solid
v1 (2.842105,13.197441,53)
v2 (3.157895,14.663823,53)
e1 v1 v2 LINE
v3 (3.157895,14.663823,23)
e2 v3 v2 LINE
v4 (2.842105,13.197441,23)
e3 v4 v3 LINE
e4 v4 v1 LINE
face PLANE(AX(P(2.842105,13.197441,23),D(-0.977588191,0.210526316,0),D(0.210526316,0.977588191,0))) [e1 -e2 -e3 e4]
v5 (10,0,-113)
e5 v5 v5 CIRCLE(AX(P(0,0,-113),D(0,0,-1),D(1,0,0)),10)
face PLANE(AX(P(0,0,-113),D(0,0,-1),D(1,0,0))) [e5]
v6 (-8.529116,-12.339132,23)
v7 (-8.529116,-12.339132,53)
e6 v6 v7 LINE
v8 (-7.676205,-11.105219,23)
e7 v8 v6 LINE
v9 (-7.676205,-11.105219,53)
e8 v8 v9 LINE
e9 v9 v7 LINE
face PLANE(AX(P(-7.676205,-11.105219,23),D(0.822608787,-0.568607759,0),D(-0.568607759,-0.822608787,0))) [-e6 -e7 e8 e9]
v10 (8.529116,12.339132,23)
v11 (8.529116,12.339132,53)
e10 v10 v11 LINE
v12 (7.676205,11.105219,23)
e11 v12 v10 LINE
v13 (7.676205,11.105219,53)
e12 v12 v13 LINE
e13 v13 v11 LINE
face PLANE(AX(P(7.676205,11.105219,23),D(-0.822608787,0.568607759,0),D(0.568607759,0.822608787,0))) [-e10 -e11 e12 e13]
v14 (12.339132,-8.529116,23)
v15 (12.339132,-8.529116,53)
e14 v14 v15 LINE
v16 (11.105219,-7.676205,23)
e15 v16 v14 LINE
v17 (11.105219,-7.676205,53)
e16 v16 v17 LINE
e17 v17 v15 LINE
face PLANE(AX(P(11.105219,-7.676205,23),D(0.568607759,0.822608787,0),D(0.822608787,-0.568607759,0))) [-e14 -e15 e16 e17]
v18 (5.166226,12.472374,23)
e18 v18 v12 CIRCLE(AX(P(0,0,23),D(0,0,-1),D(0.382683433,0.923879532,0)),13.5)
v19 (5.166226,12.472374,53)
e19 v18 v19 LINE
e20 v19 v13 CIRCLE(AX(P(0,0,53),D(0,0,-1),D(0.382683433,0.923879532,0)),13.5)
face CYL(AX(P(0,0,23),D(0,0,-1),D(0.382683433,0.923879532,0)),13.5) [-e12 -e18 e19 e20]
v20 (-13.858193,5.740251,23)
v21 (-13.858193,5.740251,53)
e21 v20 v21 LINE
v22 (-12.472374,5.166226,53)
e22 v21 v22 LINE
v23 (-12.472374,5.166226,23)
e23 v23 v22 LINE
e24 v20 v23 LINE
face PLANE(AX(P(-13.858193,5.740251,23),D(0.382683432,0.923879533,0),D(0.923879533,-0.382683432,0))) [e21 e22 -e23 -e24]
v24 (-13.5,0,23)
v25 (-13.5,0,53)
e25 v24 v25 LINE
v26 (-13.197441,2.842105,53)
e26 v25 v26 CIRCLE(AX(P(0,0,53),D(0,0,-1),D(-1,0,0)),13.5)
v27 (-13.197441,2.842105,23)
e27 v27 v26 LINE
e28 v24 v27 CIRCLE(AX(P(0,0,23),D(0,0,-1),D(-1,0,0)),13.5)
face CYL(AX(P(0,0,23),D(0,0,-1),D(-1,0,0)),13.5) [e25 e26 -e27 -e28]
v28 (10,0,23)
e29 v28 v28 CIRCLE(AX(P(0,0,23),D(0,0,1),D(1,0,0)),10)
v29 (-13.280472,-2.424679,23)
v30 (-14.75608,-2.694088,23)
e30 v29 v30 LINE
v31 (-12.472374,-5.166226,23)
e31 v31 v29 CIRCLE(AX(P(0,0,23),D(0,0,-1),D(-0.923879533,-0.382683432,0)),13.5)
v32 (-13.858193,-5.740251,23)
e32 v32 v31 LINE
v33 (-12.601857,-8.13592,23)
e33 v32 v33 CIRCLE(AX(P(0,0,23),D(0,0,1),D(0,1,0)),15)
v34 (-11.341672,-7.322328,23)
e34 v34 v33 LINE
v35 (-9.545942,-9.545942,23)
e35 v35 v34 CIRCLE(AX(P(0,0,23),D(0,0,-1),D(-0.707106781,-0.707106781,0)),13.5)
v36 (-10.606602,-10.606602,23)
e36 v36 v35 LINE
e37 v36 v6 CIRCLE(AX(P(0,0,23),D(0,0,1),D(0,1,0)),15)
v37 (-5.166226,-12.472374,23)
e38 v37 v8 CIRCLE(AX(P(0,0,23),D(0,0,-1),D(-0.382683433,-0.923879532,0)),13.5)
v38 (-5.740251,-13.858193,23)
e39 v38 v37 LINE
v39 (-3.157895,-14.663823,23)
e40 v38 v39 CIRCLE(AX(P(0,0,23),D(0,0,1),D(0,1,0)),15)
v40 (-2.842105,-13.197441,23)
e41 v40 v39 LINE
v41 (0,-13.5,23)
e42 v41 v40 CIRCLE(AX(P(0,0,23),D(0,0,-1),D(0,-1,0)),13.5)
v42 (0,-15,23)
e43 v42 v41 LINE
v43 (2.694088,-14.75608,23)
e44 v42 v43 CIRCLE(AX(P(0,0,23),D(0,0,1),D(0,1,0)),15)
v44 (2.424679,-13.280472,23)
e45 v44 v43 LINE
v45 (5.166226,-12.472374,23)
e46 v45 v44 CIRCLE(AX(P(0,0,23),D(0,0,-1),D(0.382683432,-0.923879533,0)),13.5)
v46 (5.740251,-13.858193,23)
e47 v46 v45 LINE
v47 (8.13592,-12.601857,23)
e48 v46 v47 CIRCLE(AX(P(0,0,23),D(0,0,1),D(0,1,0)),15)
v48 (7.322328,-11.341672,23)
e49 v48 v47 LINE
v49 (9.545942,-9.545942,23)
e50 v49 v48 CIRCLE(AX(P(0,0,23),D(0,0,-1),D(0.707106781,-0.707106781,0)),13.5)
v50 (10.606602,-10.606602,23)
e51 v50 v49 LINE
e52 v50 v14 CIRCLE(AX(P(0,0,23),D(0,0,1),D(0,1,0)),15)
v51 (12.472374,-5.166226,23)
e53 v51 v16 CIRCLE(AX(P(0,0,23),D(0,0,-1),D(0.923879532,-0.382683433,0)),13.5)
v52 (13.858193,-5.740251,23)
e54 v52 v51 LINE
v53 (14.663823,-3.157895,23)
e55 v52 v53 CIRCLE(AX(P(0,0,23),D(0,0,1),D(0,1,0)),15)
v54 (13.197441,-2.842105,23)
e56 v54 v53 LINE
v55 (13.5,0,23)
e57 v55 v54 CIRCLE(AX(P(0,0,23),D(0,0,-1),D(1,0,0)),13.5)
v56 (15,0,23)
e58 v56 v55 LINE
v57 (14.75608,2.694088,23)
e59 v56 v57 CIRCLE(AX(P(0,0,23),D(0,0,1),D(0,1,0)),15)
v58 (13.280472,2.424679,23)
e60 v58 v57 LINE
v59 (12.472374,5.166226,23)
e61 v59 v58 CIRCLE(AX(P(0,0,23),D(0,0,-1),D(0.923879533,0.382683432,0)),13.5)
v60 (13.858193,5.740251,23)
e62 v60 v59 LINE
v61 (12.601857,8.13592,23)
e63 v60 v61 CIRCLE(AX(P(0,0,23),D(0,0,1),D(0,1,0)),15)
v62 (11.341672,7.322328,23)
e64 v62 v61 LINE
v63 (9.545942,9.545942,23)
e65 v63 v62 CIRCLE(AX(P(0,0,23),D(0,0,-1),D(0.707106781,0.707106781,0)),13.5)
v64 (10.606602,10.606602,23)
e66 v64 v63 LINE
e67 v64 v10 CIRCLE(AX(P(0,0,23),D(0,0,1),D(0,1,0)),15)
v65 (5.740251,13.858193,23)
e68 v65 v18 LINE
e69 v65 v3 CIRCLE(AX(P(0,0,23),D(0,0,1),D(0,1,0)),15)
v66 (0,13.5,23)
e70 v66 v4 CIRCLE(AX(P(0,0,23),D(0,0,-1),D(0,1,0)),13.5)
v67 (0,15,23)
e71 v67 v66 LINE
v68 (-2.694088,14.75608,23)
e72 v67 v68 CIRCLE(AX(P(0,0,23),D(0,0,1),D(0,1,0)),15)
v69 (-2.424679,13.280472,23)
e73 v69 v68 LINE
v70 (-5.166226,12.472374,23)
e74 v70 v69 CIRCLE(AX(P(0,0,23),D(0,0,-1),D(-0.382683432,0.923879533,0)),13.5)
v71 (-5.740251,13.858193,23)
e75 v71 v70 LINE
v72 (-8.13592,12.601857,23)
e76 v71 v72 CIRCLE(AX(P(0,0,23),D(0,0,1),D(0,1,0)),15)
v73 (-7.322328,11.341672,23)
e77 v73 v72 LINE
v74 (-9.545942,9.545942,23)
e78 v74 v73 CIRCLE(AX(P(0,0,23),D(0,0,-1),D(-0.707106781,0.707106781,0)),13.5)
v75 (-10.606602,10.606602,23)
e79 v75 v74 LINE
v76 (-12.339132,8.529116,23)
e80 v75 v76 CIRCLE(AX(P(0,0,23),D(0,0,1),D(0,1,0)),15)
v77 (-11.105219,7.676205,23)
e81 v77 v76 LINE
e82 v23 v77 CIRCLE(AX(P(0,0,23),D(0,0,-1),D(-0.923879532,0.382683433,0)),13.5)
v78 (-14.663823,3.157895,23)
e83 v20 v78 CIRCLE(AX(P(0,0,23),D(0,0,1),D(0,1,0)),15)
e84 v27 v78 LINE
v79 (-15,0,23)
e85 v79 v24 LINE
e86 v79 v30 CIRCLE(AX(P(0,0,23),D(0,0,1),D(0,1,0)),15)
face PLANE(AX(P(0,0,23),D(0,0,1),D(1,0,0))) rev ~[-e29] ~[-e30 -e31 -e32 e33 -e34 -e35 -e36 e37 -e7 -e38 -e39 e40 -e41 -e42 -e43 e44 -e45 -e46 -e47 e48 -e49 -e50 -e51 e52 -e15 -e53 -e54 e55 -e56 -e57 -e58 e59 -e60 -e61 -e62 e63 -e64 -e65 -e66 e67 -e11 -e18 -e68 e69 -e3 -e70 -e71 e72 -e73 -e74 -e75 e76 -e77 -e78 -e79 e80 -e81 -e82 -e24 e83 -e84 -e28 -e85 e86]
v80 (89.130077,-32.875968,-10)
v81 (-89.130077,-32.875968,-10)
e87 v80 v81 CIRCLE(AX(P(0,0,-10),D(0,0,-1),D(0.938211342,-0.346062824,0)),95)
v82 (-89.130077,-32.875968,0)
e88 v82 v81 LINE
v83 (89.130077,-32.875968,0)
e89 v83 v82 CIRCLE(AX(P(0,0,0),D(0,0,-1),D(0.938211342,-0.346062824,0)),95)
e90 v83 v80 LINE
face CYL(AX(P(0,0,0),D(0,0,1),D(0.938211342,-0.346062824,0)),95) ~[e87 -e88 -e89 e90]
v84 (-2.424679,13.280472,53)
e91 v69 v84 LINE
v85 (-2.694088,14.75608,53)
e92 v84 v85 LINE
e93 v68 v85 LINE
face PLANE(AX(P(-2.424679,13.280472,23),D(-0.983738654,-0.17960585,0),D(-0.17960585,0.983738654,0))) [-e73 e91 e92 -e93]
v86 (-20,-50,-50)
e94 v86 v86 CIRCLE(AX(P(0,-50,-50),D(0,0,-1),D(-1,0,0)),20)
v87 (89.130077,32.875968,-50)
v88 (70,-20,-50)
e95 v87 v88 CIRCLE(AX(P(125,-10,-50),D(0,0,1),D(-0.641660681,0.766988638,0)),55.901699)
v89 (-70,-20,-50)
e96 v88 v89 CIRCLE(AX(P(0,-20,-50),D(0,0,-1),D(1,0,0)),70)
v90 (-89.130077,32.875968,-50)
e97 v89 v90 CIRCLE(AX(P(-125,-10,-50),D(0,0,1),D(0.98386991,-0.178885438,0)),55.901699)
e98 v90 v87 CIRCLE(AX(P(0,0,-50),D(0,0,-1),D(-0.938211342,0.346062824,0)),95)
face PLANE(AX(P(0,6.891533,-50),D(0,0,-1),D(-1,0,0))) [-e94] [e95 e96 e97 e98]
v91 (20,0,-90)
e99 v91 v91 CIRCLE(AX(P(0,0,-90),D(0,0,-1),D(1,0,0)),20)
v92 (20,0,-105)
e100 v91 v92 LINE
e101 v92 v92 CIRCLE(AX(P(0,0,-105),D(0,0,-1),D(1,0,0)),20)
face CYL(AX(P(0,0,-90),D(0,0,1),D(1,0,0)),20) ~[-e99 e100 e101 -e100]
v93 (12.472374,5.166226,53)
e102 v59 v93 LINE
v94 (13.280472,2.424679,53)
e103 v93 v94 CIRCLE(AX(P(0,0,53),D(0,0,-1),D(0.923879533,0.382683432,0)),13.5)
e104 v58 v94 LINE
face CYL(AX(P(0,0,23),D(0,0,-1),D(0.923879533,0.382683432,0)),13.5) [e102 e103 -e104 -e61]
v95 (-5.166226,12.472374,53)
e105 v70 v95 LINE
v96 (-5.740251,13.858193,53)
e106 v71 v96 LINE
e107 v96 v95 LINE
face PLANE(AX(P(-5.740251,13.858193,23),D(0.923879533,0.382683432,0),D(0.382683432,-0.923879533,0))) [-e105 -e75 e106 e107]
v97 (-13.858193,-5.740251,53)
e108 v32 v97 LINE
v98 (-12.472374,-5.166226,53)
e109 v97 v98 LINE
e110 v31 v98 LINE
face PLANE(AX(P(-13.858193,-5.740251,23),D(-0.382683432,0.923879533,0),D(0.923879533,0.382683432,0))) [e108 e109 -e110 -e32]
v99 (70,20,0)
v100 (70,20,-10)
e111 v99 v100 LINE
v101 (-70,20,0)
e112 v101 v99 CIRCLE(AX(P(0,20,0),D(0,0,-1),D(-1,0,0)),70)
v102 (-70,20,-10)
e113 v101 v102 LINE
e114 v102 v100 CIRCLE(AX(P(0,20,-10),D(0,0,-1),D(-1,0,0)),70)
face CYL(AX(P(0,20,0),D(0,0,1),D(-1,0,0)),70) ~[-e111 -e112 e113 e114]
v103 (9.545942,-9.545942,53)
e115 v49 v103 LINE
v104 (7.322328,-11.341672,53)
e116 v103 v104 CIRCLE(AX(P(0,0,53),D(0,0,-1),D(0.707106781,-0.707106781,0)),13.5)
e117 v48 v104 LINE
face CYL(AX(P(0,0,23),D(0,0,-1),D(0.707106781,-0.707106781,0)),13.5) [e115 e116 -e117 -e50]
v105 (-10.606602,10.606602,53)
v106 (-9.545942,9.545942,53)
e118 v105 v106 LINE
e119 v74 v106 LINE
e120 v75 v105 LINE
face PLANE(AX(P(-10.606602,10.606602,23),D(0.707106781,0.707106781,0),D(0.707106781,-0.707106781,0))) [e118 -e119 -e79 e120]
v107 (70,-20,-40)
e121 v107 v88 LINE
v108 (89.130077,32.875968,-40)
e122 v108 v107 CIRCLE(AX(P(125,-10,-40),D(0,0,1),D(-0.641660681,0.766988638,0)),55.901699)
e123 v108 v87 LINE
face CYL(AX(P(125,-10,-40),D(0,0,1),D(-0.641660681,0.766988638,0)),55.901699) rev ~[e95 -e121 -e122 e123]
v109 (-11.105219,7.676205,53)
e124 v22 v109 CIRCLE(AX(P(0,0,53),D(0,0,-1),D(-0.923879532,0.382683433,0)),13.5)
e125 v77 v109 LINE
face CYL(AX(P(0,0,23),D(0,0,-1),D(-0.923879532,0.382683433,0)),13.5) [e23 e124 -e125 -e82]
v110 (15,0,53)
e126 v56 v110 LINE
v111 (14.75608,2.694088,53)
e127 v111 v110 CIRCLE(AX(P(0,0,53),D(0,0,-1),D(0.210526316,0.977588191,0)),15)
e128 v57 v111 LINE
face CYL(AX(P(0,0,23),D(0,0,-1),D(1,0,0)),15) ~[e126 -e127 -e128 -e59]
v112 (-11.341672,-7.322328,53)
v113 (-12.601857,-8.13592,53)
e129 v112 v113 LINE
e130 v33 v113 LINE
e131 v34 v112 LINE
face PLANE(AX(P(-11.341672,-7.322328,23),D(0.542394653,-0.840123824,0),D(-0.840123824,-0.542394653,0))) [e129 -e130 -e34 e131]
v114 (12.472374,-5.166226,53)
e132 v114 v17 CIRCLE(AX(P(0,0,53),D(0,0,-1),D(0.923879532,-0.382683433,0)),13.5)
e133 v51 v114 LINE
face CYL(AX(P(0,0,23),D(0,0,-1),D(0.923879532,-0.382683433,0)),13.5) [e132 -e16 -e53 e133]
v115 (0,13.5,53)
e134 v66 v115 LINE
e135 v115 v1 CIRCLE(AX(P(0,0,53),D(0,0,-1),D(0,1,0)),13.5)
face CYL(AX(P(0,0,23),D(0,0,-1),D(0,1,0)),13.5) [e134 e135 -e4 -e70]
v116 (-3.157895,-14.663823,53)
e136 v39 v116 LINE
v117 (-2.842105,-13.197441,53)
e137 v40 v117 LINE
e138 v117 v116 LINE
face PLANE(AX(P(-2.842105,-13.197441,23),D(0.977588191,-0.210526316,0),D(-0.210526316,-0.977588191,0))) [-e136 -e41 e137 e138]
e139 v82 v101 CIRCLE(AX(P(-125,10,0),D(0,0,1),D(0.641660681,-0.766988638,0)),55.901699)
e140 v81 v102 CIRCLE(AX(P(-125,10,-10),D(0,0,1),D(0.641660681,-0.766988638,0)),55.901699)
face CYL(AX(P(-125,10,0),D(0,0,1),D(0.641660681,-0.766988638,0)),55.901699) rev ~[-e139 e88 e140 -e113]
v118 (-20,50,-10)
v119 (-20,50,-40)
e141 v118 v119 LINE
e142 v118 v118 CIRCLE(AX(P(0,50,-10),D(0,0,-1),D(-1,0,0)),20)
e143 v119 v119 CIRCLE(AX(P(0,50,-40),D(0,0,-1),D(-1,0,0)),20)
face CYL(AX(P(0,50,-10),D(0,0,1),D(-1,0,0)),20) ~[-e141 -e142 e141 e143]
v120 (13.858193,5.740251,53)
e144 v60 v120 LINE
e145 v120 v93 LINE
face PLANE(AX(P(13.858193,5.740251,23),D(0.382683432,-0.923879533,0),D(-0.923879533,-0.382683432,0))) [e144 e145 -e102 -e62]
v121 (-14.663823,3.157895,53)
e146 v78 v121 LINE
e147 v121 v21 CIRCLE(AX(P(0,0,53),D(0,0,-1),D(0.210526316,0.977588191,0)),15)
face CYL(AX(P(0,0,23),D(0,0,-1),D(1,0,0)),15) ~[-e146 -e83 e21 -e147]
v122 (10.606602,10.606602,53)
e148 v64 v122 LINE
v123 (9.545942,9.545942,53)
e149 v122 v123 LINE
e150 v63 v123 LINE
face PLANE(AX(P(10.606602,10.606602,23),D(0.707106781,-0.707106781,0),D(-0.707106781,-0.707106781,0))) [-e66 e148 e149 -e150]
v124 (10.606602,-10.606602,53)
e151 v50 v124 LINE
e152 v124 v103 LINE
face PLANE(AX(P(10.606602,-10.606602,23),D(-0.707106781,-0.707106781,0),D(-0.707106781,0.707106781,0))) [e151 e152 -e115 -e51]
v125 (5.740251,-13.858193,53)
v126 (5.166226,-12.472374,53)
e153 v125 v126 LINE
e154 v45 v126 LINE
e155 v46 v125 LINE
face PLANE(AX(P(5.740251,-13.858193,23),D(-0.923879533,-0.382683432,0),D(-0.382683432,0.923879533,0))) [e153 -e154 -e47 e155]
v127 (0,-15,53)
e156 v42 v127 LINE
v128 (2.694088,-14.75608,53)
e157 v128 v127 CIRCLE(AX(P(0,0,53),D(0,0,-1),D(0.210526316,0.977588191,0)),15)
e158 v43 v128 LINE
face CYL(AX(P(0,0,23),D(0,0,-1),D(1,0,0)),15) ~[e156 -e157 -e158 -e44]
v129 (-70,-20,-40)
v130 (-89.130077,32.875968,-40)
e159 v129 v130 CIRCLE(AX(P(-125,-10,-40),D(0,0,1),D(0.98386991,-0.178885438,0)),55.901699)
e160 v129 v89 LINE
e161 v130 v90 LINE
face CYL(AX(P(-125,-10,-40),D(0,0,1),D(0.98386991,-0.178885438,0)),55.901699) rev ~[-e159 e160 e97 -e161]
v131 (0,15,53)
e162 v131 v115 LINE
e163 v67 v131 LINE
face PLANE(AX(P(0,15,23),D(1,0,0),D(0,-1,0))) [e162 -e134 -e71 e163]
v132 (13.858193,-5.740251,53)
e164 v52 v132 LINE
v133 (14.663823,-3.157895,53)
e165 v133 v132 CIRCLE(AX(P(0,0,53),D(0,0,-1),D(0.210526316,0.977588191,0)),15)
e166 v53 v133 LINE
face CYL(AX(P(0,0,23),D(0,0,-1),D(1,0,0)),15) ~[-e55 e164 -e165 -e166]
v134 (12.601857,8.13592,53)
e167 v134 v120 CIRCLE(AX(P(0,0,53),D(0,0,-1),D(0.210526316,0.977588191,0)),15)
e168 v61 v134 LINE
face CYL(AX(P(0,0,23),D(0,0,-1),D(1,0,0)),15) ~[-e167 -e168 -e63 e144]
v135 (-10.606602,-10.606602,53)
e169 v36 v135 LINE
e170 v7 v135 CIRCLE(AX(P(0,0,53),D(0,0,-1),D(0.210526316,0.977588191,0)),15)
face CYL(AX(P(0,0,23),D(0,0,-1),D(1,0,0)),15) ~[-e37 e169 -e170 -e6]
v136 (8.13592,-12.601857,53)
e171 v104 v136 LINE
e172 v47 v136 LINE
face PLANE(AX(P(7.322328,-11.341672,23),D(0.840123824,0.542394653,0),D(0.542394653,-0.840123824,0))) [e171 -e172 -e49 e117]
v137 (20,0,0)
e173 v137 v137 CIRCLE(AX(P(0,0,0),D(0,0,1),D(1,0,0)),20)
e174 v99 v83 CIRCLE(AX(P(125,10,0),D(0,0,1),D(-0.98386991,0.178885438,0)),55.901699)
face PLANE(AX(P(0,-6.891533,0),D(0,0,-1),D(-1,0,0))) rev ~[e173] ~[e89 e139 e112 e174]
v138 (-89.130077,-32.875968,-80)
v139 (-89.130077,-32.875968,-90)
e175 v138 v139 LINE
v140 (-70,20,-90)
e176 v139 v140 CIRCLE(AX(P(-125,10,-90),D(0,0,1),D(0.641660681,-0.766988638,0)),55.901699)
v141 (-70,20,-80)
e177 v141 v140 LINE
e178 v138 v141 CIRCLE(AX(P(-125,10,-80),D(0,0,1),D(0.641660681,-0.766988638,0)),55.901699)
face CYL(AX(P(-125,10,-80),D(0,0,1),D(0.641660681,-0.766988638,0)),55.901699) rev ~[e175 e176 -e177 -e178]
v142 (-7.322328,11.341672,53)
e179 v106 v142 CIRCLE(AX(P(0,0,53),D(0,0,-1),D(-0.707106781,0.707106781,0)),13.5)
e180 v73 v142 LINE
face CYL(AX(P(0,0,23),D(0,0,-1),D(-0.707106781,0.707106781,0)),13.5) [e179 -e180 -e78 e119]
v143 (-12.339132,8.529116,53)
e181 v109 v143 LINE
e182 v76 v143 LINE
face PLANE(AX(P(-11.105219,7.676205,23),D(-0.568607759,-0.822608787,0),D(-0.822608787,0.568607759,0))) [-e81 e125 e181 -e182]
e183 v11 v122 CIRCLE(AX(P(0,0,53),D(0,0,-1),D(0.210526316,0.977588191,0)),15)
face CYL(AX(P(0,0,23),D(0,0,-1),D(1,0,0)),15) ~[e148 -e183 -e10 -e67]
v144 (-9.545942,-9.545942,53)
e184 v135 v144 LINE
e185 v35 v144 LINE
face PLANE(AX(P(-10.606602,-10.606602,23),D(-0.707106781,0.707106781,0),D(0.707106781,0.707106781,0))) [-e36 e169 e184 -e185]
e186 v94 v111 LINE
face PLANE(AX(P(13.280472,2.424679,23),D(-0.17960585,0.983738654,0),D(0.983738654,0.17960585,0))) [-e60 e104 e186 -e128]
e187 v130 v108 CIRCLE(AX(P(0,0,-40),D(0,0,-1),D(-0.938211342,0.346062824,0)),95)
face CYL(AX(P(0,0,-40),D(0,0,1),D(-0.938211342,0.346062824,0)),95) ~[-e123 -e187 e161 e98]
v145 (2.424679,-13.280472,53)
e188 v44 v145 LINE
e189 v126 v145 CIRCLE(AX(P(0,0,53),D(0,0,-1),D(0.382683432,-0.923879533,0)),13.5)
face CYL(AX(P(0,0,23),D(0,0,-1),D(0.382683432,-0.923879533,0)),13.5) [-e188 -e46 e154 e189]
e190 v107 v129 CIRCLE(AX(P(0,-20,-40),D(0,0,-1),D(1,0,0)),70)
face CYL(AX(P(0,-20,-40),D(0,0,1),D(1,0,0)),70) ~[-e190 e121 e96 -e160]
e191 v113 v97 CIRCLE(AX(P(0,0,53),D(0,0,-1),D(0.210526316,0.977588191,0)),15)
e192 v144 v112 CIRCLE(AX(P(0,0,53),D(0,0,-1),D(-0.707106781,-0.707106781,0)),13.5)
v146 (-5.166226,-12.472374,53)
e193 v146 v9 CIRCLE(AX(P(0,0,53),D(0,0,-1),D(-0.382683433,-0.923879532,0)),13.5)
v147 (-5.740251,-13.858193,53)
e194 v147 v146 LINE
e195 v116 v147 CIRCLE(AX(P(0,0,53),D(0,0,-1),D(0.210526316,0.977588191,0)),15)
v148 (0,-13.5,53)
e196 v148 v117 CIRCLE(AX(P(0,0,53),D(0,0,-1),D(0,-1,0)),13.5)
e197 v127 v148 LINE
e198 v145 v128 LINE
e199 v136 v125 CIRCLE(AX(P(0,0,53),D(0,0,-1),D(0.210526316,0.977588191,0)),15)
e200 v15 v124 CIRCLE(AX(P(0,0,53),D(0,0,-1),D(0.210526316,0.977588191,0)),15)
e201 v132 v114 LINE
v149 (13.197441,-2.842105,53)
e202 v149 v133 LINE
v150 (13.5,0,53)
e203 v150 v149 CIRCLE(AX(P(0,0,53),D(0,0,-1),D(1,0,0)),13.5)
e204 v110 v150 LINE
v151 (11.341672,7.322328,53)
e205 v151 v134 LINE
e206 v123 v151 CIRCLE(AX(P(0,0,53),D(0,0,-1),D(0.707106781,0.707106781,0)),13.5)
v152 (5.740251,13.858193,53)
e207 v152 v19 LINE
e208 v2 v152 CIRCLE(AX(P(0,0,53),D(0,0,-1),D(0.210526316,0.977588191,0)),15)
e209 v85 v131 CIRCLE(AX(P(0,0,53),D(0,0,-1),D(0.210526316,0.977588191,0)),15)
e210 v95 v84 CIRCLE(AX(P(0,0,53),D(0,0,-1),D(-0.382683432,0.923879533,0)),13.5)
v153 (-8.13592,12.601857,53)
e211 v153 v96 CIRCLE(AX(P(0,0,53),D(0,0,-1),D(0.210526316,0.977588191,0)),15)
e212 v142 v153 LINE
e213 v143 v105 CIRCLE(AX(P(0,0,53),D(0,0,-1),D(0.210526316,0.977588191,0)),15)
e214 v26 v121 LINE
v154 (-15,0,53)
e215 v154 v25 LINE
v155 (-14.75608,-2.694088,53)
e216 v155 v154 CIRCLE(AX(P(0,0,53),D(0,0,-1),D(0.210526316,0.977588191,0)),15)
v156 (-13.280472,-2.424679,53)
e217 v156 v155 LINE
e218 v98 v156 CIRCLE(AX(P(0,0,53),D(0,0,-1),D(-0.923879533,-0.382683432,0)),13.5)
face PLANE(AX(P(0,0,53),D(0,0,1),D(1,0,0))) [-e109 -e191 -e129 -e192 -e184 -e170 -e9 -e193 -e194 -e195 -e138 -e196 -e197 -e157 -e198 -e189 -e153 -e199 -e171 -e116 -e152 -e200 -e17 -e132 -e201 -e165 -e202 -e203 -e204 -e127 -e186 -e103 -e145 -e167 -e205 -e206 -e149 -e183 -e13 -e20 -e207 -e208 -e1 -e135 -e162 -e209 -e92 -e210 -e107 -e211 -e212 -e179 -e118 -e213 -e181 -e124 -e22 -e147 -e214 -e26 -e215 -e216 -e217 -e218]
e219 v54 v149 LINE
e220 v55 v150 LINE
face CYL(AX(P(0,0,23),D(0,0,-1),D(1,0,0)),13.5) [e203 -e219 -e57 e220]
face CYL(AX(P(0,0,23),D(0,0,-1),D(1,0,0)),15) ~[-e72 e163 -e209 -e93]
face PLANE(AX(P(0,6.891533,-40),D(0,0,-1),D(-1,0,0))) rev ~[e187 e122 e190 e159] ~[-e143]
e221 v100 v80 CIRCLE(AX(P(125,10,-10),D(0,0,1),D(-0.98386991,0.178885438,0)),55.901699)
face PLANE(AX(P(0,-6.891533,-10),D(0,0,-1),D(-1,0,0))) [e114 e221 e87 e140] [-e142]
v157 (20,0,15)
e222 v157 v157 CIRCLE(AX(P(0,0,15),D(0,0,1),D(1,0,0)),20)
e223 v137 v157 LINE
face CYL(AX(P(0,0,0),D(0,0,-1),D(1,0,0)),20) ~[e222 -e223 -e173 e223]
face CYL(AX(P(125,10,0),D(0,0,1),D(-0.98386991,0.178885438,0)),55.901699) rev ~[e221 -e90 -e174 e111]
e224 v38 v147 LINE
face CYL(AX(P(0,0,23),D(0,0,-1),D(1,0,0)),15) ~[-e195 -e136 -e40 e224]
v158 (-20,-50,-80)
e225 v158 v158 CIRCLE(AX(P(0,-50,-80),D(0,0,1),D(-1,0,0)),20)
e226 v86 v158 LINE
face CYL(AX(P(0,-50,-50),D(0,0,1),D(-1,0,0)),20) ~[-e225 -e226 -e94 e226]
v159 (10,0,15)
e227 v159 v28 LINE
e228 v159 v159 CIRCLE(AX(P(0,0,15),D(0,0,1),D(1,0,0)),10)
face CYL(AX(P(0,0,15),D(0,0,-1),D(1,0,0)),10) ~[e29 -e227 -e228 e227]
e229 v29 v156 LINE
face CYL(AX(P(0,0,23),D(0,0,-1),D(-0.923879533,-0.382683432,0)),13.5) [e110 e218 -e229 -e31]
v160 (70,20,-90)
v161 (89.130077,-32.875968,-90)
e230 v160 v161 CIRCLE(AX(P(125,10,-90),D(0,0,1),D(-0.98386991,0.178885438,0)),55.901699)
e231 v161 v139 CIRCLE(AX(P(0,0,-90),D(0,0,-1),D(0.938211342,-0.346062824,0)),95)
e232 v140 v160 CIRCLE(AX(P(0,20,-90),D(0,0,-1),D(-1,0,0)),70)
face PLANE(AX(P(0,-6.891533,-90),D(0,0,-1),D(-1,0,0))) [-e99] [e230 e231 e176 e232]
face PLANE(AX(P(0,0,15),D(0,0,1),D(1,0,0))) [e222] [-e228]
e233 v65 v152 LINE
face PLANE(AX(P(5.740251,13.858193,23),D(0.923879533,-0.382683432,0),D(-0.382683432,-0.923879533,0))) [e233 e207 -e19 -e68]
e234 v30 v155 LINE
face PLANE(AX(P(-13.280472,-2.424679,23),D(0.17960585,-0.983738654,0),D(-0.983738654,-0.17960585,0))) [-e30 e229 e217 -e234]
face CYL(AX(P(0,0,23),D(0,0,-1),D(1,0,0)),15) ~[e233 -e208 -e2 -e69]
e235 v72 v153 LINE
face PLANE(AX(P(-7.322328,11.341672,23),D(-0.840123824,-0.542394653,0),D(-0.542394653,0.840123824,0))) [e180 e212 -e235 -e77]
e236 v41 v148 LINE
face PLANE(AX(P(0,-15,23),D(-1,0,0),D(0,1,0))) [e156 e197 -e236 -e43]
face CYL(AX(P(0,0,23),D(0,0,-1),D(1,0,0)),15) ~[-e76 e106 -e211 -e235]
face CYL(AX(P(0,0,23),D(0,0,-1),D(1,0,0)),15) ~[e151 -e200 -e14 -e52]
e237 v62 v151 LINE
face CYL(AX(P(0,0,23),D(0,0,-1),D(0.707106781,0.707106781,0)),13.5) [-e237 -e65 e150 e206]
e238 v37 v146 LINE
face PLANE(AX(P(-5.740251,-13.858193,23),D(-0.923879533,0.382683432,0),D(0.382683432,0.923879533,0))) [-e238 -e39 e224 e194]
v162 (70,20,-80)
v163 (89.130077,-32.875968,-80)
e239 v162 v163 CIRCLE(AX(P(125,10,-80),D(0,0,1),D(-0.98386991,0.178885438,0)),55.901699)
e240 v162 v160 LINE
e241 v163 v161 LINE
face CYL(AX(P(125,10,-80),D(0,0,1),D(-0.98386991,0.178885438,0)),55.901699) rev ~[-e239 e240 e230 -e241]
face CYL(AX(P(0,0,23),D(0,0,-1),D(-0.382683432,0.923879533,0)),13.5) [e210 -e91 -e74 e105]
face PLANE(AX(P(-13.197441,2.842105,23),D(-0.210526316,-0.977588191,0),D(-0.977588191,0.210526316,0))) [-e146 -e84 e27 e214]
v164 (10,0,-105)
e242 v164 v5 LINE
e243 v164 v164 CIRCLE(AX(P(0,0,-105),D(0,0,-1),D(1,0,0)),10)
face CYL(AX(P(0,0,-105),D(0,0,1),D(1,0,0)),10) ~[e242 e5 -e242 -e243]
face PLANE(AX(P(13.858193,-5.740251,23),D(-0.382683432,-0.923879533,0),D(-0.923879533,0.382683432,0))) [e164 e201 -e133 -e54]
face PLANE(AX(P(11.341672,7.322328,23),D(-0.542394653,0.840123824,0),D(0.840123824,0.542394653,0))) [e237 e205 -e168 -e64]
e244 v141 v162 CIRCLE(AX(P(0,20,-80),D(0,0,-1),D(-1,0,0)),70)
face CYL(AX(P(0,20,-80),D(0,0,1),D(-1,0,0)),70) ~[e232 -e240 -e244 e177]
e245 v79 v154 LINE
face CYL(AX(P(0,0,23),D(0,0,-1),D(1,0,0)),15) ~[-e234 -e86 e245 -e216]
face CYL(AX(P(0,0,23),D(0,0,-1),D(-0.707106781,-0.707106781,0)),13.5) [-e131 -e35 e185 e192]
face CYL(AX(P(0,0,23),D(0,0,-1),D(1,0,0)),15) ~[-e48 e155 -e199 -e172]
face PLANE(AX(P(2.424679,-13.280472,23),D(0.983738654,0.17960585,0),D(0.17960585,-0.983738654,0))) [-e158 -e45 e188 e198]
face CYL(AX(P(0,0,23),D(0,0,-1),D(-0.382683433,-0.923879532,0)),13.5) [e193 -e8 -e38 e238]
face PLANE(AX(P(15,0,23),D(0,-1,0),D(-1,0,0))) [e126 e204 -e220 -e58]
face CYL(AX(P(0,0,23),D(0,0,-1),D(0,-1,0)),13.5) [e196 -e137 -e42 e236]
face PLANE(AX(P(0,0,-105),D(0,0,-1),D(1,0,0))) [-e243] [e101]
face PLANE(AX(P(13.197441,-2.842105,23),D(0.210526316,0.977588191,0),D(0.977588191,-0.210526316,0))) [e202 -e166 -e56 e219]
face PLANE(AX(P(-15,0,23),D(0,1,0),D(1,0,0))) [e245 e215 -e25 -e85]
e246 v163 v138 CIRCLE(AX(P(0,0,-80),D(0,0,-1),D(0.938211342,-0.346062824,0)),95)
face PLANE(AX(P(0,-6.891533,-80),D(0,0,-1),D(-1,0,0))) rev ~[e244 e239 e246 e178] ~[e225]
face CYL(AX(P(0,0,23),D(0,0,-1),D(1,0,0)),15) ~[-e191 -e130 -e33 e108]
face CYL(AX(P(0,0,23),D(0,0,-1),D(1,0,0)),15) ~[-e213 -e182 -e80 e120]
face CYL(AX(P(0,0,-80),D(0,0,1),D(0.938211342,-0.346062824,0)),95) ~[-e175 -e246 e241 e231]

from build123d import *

# Parameters (mm, degrees)
SKETCH1_R            = 20
BOSS_EXTRUDE1_DEPTH  = 15
SKETCH2_R            = 10
BOSS_EXTRUDE2_DEPTH  = 8
SKETCH3_R            = 15
BOSS_EXTRUDE3_DEPTH  = 30
CUT_EXTRUDE1_START   = -30
CUT_EXTRUDE1_DEPTH   = 30
CIRPATTERN1_COUNT    = 16
BOSS_EXTRUDE5_DEPTH  = 10
SKETCH9_R            = 20
BOSS_EXTRUDE6_DEPTH  = 30
BOSS_EXTRUDE7_DEPTH  = 10
BOSS_EXTRUDE8_DEPTH  = 10
BOSS_EXTRUDE9_REACH  = 168.067
SKETCH14_R           = 20
SKETCH15_R           = 20
BOSS_EXTRUDE10_DEPTH = 15
SKETCH16_R           = 10
BOSS_EXTRUDE11_DEPTH = 8


with BuildPart() as part:
    # Sketch1 → Boss-Extrude1 (new body)
    with BuildSketch(Plane.XY):
        Circle(SKETCH1_R)
    extrude(amount=BOSS_EXTRUDE1_DEPTH)

    # Sketch2 → Boss-Extrude2 (add)
    with BuildSketch(Plane.XY.offset(15)):
        Circle(SKETCH2_R)
    extrude(amount=BOSS_EXTRUDE2_DEPTH)

    # Sketch3 → Boss-Extrude3 (add)
    with BuildSketch(Plane.XY.offset(23)):
        Circle(SKETCH3_R)
    extrude(amount=BOSS_EXTRUDE3_DEPTH)

    # Sketch5 → Cut-Extrude1 (cut)
    with BuildSketch(Plane.XY.offset(53).offset(CUT_EXTRUDE1_START)):
        with BuildLine():
            ThreePointArc((3.157894737, 14.663822859), (1.587869189, 14.915718938), (0, 15))
            Line((0, 15), (0, 13.5))
            ThreePointArc((0, 13.5), (1.42908227, 13.424147044), (2.842105263, 13.197440573))
            Line((2.842105263, 13.197440573), (3.157894737, 14.663822859))
        make_face()
    cut_extrude1 = extrude(amount=CUT_EXTRUDE1_DEPTH, mode=Mode.SUBTRACT)

    # CirPattern1: Cut-Extrude1 ×16 about axis
    cirpattern1_axis = Axis((0, 0, 0), (0, 0, 1))
    for i in range(1, CIRPATTERN1_COUNT):
        add(cut_extrude1.rotate(cirpattern1_axis, i * 360 / CIRPATTERN1_COUNT), mode=Mode.SUBTRACT)

    # Sketch8 → Boss-Extrude5 (add)
    with BuildSketch(Plane(origin=(0, 0, 0), x_dir=(-1, 0, 0), z_dir=(0, 0, -1))):
        with BuildLine():
            ThreePointArc((70, 20), (0, 90), (-70, 20))
            ThreePointArc((-70, 20), (-72.432874235, -9.018340852), (-89.130077464, -32.875968295))
            ThreePointArc((-89.130077464, -32.875968295), (0, -95), (89.130077464, -32.875968295))
            ThreePointArc((89.130077464, -32.875968295), (72.432874235, -9.018340852), (70, 20))
        make_face()
    extrude(amount=BOSS_EXTRUDE5_DEPTH)

    # Sketch9 → Boss-Extrude6 (add)
    with BuildSketch(Plane(origin=(0, 0, -10), x_dir=(-1, 0, 0), z_dir=(0, 0, -1))):
        with Locations((0, 50)):
            Circle(SKETCH9_R)
    extrude(amount=BOSS_EXTRUDE6_DEPTH)

    # Sketch10 → Boss-Extrude7 (add)
    with BuildSketch(Plane(origin=(0, 0, -40), x_dir=(-1, 0, 0), z_dir=(0, 0, -1))):
        with BuildLine():
            ThreePointArc((-70, -20), (0, -90), (70, -20))
            ThreePointArc((70, -20), (72.432874235, 9.018340852), (89.130077464, 32.875968295))
            ThreePointArc((89.130077464, 32.875968295), (0, 95), (-89.130077464, 32.875968295))
            ThreePointArc((-89.130077464, 32.875968295), (-72.432874235, 9.018340852), (-70, -20))
        make_face()
    extrude(amount=BOSS_EXTRUDE7_DEPTH)


with BuildPart() as body_2:
    # Sketch12 → Boss-Extrude8 (new body)
    with BuildSketch(Plane(origin=(0, 0, -80), x_dir=(-1, 0, 0), z_dir=(0, 0, -1))):
        with BuildLine():
            ThreePointArc((70, 20), (0, 90), (-70, 20))
            ThreePointArc((-70, 20), (-72.432874235, -9.018340852), (-89.130077464, -32.875968295))
            ThreePointArc((-89.130077464, -32.875968295), (0, -95), (89.130077464, -32.875968295))
            ThreePointArc((89.130077464, -32.875968295), (72.432874235, -9.018340852), (70, 20))
        make_face()
    extrude(amount=BOSS_EXTRUDE8_DEPTH)

    # Sketch14 → Boss-Extrude9 (add, up to next)
    with BuildSketch(Plane(origin=(0, 0, -50), x_dir=(-1, 0, 0), z_dir=(0, 0, -1)), mode=Mode.PRIVATE) as boss_extrude9_sk1:
        with Locations((0, -50)):
            Circle(SKETCH14_R)
    boss_extrude9_tool1 = extrude(boss_extrude9_sk1.sketch, amount=BOSS_EXTRUDE9_REACH, mode=Mode.PRIVATE) - body_2.part

    add(part.part)  # Boss-Extrude9 merges part
    add(boss_extrude9_tool1.solids().sort_by_distance((0, -50, -50))[0])

    # Sketch15 → Boss-Extrude10 (add)
    with BuildSketch(Plane(origin=(0, 0, -90), x_dir=(-1, 0, 0), z_dir=(0, 0, -1))):
        with Locations(Location((0, 0, 0), (0, 0, 180))):
            Circle(SKETCH15_R)
    extrude(amount=BOSS_EXTRUDE10_DEPTH)

    # Sketch16 → Boss-Extrude11 (add)
    with BuildSketch(Plane(origin=(0, 0, -105), x_dir=(-1, 0, 0), z_dir=(0, 0, -1))):
        with Locations(Location((0, 0, 0), (0, 0, 180))):
            Circle(SKETCH16_R)
    extrude(amount=BOSS_EXTRUDE11_DEPTH)


solid = body_2.part
